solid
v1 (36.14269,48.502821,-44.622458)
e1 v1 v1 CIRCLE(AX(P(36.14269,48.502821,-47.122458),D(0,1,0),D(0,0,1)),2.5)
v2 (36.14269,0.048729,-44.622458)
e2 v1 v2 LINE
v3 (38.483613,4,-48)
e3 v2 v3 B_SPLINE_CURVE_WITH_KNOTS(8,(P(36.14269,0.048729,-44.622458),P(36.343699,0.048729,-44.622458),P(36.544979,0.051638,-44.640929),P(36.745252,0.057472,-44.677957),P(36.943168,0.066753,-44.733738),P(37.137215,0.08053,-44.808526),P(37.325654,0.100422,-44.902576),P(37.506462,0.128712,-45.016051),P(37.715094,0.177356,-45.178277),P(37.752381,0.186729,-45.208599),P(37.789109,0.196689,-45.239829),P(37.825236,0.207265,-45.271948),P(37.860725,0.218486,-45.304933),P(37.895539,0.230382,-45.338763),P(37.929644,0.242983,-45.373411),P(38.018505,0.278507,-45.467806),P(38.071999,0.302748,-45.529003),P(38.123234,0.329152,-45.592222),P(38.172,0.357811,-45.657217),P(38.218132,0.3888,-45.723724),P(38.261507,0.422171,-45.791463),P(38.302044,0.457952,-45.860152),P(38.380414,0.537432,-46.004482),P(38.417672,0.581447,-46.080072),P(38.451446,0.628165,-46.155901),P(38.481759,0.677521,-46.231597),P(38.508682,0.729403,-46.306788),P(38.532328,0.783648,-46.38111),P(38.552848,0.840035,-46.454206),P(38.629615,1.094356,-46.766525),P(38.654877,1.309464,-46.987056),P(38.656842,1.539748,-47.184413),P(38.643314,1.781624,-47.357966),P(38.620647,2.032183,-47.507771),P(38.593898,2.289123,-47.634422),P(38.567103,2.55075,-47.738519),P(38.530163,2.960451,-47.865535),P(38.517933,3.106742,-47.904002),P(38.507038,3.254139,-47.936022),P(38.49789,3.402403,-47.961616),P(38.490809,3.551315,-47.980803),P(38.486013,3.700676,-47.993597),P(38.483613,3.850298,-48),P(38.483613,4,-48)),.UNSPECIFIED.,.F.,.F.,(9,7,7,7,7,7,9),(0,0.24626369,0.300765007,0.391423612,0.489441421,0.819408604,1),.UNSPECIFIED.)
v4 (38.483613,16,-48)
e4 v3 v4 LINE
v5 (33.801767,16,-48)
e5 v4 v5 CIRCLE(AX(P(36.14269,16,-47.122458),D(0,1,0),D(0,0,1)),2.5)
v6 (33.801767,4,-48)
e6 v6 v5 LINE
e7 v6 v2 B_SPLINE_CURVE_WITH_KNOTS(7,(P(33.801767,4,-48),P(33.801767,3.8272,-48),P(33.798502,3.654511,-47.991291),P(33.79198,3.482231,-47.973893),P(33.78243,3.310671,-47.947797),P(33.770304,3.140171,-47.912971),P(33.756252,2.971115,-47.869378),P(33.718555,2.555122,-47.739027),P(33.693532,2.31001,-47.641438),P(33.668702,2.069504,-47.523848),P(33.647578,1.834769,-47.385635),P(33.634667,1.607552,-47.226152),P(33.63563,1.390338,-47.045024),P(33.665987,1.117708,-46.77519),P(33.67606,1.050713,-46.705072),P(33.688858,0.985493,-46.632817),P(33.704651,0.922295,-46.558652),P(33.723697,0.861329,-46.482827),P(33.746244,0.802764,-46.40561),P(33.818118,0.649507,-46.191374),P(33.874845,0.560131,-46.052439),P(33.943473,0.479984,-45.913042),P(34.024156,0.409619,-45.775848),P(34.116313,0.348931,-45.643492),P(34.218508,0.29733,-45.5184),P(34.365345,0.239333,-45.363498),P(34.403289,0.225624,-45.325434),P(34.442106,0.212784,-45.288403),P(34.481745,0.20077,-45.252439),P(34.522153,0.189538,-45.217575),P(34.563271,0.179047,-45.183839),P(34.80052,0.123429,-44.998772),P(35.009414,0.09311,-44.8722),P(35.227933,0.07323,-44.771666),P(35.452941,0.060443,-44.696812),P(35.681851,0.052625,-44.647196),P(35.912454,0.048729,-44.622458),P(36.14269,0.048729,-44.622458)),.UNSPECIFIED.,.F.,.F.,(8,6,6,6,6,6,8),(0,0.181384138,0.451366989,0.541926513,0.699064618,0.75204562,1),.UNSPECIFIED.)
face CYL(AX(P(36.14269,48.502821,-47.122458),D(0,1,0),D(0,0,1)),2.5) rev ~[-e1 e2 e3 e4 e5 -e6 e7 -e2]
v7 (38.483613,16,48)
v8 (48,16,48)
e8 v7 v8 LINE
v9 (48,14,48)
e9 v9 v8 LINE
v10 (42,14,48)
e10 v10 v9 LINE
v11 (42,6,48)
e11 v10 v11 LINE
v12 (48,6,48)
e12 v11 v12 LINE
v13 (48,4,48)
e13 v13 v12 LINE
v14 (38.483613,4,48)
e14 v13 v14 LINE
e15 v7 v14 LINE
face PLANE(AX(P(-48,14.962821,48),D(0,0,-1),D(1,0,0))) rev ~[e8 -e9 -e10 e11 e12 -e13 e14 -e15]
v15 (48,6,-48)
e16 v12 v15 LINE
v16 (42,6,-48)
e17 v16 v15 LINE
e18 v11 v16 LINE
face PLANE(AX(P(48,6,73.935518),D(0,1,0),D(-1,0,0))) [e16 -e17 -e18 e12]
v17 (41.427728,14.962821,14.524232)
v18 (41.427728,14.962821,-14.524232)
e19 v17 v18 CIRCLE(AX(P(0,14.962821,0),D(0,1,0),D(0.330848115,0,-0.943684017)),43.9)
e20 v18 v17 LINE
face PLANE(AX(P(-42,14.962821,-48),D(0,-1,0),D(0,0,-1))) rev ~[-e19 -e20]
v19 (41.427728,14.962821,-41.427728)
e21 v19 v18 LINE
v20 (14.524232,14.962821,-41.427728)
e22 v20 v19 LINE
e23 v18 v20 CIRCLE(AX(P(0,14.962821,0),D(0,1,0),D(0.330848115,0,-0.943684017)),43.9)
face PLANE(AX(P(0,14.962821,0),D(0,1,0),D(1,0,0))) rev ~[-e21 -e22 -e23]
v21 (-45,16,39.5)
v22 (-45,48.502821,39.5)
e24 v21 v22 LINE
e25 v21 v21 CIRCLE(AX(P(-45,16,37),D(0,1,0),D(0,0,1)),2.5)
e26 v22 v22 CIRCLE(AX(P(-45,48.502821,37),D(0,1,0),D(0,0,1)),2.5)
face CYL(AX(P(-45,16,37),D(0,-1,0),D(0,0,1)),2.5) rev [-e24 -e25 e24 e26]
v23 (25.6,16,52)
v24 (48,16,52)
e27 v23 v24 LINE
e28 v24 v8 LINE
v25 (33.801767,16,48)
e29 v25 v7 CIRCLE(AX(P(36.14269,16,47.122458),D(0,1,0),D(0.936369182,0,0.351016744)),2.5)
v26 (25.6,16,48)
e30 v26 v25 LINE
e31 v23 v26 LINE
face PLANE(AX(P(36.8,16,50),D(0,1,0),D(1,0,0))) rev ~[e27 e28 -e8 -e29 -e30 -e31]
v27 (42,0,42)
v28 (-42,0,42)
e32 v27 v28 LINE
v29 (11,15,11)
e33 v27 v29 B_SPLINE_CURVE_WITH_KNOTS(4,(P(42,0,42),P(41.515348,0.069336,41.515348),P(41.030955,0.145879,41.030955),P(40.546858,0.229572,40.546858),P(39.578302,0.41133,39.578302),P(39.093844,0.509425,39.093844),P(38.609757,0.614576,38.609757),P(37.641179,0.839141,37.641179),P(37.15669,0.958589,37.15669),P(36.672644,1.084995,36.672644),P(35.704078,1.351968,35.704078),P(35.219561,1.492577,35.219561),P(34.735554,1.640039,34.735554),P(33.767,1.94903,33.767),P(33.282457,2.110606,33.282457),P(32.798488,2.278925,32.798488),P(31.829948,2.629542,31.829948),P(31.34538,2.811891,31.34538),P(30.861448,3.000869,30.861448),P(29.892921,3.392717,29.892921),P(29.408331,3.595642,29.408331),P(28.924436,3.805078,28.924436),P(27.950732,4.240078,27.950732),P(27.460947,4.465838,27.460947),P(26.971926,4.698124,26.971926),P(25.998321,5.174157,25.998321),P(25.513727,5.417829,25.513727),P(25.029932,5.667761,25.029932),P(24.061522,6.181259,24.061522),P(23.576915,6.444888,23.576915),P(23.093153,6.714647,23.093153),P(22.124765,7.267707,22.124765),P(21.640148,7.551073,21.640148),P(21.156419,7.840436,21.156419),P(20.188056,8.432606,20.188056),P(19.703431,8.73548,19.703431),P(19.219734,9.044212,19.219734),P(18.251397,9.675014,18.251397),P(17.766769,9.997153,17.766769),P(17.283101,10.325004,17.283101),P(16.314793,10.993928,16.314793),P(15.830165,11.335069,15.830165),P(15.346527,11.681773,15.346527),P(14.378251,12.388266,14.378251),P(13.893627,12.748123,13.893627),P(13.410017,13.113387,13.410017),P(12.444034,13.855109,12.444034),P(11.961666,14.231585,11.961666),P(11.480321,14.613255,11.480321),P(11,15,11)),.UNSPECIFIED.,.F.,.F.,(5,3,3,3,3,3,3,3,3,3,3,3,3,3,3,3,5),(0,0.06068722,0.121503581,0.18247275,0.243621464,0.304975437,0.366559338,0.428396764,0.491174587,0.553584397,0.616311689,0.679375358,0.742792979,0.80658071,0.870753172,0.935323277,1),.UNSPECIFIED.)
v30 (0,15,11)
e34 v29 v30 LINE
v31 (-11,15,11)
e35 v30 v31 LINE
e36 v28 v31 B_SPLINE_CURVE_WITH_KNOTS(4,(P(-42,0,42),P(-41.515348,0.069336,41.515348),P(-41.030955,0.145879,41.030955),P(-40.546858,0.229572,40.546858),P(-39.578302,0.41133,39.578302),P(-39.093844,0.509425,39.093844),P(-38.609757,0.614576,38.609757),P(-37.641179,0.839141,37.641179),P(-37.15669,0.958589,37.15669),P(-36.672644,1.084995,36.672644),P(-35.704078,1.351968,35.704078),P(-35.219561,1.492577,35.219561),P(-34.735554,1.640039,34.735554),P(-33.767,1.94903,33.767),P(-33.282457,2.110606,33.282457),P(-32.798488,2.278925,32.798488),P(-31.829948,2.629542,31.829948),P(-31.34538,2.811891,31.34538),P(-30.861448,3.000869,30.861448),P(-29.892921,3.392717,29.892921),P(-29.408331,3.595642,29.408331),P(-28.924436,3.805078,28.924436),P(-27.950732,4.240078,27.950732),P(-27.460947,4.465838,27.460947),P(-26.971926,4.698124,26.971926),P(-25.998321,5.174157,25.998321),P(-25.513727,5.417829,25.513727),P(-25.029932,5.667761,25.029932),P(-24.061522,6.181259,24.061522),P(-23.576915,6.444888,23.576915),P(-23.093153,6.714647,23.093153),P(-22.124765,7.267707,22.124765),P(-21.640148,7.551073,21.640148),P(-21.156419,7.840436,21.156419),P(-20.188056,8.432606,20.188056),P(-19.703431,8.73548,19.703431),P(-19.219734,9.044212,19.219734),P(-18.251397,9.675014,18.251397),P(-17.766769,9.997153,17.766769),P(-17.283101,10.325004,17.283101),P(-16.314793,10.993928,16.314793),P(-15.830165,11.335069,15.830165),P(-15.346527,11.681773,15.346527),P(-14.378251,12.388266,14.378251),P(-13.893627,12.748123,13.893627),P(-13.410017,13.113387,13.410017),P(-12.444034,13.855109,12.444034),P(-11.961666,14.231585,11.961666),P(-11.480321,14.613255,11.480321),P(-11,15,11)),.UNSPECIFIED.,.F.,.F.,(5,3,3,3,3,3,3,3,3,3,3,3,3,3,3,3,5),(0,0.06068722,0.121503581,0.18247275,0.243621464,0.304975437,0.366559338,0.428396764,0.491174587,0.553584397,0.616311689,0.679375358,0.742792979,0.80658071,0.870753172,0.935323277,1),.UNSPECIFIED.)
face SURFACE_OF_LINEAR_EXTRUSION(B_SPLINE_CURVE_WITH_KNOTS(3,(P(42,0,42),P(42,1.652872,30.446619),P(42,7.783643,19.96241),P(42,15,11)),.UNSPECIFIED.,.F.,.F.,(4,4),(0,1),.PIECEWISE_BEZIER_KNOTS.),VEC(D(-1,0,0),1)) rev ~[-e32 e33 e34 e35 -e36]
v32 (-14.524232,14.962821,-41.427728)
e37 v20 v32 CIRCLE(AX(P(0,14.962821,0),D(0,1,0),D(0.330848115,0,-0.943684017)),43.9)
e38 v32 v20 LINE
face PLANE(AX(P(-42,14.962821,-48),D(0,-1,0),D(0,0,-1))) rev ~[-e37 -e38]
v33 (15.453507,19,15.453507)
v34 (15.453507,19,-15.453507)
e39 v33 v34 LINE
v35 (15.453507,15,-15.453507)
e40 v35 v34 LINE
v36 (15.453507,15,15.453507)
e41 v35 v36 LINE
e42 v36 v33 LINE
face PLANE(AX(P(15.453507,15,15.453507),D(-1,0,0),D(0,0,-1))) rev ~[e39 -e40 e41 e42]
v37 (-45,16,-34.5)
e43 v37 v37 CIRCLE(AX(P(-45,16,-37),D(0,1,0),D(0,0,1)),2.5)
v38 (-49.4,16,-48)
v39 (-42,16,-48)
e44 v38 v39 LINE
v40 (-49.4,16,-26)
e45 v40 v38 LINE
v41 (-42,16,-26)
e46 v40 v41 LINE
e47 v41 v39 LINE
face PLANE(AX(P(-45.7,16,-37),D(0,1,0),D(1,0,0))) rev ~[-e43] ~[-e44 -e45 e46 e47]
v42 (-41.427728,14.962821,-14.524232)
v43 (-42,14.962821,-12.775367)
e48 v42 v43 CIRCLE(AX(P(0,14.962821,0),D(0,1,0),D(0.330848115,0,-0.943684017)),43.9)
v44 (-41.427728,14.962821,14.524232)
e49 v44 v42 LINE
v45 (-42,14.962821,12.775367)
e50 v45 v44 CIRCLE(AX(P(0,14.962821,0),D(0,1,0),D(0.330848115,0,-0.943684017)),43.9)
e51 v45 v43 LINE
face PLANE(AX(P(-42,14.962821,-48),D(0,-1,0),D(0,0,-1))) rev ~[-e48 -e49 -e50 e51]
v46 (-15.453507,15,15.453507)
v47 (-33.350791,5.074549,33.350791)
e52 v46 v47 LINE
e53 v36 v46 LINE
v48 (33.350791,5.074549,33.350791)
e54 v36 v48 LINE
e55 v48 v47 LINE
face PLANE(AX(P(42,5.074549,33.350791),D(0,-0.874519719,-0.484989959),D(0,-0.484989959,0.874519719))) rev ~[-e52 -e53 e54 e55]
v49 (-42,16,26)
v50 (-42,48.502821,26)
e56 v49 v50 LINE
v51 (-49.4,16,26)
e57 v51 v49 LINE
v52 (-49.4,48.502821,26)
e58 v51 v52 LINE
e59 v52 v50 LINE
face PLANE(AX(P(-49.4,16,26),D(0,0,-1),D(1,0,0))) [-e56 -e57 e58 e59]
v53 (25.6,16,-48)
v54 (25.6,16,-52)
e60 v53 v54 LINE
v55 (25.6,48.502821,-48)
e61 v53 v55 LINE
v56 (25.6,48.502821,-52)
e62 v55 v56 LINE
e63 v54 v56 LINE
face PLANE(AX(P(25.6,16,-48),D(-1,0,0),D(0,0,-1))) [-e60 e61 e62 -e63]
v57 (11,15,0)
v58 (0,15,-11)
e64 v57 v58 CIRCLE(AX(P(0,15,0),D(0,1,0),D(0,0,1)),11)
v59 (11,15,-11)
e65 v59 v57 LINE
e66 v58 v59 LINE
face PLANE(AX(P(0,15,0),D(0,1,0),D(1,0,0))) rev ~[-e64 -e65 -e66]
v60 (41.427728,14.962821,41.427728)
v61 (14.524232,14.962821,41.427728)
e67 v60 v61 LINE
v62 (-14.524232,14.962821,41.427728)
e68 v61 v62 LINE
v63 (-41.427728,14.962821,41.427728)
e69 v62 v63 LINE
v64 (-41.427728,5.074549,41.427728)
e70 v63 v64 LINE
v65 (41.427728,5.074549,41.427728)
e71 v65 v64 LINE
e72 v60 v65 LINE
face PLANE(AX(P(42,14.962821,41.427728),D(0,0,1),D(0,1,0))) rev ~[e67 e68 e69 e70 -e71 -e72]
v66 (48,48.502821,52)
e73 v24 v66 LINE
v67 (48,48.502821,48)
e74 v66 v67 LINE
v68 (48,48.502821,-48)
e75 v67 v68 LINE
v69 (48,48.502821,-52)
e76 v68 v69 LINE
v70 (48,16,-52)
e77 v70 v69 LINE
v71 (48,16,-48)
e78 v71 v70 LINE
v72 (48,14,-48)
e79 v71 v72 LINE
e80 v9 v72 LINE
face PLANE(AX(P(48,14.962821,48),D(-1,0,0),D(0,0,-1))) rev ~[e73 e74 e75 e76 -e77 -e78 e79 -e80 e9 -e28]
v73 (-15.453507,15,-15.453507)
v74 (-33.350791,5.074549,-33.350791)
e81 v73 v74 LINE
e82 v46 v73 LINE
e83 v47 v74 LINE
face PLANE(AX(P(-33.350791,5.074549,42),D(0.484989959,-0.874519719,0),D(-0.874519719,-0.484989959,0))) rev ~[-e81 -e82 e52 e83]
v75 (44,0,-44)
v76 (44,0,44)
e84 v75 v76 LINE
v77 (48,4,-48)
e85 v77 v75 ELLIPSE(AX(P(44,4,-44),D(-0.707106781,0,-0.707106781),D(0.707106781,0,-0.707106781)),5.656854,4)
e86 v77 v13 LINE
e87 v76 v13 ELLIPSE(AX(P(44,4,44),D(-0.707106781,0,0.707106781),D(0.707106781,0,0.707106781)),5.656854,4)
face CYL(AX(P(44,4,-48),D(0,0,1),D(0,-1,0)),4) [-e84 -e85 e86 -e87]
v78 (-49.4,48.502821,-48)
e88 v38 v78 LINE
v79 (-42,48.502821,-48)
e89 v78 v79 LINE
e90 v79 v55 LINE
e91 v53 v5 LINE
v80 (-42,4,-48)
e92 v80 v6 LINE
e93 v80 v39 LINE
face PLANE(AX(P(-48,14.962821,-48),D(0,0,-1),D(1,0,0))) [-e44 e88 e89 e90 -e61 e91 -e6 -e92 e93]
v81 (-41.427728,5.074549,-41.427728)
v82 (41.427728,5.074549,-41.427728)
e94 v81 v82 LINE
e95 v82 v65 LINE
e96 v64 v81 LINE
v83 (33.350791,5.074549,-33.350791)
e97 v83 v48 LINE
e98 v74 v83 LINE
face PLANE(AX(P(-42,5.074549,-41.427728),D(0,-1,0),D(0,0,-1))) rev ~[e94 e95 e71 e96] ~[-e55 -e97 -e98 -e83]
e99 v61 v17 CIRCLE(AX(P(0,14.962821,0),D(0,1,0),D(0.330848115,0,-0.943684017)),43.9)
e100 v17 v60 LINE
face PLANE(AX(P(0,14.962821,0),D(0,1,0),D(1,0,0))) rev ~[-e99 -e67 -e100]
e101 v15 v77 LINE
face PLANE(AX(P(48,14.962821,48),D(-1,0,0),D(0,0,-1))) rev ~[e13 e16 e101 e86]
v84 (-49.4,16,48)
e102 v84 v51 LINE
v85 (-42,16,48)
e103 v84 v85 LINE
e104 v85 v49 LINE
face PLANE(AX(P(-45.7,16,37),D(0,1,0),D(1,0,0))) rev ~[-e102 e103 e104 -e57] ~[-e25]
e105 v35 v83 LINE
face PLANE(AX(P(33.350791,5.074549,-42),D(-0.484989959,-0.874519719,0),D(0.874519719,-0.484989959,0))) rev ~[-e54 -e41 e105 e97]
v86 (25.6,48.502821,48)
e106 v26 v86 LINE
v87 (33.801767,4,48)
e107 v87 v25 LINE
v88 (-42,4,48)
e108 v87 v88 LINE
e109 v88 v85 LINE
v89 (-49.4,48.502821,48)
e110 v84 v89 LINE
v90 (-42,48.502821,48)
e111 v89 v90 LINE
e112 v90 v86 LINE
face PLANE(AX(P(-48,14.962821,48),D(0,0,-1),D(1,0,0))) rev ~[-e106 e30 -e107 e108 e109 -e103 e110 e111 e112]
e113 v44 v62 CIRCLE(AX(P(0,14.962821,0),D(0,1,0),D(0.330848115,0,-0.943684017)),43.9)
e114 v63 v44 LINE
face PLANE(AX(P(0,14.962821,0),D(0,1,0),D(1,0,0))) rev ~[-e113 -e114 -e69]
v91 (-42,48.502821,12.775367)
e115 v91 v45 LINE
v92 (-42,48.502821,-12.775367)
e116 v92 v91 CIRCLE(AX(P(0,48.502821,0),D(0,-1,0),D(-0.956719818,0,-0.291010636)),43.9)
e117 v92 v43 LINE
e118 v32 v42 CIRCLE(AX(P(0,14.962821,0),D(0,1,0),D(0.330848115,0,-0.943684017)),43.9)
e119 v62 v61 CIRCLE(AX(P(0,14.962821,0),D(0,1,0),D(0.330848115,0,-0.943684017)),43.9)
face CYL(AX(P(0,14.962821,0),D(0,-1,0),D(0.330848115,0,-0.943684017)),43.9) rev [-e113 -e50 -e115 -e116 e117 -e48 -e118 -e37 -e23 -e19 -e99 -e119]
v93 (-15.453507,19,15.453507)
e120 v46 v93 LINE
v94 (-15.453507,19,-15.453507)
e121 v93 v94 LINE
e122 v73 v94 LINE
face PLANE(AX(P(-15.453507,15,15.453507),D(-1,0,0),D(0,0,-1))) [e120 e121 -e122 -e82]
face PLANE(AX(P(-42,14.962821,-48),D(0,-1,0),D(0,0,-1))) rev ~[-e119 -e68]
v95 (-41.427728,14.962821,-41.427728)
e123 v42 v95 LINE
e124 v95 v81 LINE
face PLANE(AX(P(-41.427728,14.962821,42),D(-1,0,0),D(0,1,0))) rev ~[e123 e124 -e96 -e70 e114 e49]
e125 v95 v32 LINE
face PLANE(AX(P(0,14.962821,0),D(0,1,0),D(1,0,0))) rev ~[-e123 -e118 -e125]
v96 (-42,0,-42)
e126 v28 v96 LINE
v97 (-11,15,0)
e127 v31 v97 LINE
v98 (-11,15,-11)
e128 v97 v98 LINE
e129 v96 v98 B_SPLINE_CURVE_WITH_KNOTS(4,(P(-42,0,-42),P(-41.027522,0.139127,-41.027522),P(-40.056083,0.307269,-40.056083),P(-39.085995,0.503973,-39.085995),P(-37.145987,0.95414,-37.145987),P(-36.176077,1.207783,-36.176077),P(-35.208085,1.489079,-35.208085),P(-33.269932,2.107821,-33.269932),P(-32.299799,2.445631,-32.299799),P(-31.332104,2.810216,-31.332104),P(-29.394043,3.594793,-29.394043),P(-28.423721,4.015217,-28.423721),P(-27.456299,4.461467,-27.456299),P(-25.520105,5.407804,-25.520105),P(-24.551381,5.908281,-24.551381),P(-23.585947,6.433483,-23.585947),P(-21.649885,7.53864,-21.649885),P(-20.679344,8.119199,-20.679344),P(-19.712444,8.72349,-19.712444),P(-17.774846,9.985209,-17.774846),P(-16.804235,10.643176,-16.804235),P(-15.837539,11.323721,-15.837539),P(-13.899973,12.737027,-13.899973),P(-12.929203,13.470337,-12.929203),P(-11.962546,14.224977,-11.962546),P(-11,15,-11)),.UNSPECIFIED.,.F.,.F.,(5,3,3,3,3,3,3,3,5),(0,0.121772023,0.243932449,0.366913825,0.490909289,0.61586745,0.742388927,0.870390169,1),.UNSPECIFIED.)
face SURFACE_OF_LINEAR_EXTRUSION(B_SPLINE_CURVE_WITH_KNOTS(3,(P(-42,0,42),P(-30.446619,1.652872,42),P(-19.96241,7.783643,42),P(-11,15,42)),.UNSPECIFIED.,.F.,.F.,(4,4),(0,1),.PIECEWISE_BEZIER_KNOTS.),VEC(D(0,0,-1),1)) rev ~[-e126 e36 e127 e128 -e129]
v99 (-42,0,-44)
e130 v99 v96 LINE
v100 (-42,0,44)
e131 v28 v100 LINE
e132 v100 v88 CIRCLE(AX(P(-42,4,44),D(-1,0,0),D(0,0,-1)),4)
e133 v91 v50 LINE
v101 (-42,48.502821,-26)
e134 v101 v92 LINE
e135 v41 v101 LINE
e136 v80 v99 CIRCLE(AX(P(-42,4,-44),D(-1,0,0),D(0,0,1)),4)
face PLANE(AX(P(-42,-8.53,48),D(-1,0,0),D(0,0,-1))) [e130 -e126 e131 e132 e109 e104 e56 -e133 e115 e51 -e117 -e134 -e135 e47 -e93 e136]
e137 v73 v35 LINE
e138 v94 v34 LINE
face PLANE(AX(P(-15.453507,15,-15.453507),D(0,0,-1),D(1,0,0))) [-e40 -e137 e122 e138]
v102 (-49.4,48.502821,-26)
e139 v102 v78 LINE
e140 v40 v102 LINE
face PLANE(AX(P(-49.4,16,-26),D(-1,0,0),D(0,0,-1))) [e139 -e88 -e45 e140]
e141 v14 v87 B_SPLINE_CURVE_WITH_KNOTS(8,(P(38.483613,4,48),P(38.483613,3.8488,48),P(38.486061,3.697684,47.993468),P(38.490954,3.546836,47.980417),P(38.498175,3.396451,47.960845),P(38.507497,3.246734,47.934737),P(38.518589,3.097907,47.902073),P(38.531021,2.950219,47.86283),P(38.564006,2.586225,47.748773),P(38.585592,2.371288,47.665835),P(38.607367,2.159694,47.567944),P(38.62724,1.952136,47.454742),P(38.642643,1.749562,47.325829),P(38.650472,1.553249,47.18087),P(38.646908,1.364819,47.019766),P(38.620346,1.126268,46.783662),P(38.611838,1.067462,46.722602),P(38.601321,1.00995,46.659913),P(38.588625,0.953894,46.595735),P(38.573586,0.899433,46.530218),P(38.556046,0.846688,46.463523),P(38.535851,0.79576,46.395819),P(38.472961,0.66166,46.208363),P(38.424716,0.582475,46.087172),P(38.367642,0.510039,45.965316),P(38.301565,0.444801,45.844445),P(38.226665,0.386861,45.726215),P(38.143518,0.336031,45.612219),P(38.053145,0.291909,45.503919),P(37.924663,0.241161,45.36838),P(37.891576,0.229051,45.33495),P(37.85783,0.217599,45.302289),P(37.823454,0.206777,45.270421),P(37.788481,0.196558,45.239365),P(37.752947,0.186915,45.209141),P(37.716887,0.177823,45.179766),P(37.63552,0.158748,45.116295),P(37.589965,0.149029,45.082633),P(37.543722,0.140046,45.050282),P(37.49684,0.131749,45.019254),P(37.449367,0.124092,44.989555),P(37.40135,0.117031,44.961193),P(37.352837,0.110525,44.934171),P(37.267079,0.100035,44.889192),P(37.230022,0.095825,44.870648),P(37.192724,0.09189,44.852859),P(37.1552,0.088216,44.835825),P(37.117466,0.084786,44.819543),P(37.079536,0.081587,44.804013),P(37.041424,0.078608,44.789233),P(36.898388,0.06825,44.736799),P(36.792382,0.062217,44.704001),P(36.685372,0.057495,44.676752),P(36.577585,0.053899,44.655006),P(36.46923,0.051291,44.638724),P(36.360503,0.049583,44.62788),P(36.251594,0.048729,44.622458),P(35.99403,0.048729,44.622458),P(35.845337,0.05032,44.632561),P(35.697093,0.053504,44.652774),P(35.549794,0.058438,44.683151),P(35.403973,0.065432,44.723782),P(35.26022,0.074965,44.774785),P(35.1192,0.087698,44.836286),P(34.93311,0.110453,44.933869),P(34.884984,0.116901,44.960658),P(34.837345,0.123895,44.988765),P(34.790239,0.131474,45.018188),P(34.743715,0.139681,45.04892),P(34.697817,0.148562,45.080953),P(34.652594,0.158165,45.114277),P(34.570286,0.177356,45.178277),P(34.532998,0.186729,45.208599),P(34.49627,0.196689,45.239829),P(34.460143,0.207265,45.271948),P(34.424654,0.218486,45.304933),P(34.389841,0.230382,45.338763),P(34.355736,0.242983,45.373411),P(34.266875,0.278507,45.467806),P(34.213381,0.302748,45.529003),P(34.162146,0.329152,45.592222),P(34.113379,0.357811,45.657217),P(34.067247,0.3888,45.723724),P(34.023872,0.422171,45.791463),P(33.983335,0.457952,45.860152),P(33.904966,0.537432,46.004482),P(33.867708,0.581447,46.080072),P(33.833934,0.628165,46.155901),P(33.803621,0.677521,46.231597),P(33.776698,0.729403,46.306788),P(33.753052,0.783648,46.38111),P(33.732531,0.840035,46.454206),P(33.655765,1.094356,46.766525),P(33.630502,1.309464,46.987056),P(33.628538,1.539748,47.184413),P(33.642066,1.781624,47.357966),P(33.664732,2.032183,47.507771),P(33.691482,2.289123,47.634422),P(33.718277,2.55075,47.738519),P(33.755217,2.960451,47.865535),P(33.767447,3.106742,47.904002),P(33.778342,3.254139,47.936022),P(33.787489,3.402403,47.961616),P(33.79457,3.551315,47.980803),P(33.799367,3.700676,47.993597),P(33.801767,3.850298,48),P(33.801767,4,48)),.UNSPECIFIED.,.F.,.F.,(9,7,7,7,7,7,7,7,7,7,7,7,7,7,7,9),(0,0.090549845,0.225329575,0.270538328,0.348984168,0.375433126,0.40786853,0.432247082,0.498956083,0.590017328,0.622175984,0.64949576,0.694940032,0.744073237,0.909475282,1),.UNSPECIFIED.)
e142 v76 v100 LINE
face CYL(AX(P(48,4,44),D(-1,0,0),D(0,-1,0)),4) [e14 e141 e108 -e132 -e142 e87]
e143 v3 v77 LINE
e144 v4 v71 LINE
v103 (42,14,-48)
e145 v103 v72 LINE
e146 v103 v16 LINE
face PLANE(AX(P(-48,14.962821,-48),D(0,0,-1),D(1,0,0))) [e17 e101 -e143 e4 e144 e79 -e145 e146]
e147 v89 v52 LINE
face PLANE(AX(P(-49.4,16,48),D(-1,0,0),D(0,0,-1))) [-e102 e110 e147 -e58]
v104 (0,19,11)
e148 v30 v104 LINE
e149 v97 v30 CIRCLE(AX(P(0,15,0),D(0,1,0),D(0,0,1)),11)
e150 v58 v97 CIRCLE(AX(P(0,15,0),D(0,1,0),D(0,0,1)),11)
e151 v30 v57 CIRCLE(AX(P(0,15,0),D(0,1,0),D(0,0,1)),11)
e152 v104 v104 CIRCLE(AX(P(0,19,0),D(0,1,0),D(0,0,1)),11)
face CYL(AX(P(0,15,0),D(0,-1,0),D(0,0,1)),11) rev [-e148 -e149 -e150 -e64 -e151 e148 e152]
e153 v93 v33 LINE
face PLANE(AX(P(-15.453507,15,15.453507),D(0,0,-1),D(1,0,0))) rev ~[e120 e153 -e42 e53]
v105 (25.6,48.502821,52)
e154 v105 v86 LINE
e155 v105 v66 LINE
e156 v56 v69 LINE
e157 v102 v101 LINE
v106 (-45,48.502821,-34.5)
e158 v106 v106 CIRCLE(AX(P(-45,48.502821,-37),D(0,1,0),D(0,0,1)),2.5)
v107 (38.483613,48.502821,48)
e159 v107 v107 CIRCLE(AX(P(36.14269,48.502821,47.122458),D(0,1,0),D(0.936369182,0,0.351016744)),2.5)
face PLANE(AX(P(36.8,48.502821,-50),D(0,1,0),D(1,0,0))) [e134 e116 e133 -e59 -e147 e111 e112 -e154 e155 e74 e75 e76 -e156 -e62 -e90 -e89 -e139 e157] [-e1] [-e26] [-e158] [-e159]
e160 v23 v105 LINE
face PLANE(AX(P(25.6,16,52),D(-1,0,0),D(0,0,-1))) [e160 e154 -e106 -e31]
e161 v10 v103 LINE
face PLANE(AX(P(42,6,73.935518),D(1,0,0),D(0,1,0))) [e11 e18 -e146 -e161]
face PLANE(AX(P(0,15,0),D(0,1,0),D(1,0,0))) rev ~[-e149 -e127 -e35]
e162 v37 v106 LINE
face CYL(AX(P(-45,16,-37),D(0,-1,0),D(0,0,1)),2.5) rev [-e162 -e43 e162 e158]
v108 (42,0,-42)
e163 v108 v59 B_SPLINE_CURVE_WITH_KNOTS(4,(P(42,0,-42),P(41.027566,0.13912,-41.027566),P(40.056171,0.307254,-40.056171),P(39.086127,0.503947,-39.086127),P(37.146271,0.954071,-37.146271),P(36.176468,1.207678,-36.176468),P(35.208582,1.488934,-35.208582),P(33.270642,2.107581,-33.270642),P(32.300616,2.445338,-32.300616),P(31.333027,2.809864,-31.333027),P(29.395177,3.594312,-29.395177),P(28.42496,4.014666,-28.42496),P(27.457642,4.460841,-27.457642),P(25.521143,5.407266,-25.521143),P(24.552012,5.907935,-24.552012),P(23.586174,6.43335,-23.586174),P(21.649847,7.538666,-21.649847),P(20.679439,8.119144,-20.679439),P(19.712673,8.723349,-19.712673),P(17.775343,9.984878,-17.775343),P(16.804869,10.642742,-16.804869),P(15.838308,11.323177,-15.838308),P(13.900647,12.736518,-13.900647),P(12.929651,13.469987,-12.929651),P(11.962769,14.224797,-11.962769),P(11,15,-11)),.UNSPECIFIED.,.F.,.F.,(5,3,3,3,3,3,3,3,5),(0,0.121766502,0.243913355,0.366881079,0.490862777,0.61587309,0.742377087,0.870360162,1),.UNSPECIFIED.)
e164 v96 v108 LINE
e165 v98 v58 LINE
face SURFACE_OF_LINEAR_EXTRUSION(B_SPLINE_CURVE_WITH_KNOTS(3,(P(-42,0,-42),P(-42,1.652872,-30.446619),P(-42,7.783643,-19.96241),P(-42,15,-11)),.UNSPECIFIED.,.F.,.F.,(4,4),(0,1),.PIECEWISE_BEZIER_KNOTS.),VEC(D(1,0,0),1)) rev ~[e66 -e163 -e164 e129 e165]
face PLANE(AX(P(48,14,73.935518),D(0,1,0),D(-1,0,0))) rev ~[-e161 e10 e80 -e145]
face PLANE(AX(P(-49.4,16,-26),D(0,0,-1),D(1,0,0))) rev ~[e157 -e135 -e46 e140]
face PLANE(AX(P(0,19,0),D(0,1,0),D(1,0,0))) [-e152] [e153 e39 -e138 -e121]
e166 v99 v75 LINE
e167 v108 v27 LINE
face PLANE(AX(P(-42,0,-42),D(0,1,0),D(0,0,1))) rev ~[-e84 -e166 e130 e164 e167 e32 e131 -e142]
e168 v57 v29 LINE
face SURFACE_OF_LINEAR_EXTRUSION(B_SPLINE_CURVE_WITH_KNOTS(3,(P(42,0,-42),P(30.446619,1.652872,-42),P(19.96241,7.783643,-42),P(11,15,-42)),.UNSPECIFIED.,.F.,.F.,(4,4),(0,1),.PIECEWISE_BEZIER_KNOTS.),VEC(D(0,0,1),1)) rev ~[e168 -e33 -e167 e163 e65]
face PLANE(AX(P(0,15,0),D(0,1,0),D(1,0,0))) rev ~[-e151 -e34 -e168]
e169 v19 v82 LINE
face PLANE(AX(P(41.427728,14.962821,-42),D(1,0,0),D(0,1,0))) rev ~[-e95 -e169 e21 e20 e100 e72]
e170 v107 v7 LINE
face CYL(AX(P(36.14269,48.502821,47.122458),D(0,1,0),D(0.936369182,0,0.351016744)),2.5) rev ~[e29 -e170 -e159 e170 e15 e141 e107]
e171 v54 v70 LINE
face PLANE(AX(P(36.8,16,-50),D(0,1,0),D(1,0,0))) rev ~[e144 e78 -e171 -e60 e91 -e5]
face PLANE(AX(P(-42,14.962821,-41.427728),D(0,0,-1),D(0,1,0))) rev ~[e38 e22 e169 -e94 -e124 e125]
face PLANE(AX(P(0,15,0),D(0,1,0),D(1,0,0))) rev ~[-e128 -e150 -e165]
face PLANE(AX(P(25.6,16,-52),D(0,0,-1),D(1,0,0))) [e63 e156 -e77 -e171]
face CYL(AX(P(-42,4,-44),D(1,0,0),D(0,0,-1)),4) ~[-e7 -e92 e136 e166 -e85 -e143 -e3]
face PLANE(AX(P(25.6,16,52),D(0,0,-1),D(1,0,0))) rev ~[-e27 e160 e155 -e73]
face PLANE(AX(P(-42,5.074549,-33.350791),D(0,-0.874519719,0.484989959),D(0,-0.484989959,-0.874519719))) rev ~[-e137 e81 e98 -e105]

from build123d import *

# Parameters (mm, degrees)
SKETCH_8_W               = 96
SKETCH_8_H               = 96
SKETCH_8_R               = 43.9
EXTRUDE_1_DEPTH          = 33.54
CUT_EXTRUDE_3_DEPTH      = 84.429752707
CUT_EXTRUDE_3_DEPTH_BACK = 8.53
SKETCH_14_W              = 6
SKETCH_14_H              = 96
EXTRUDE_3_DEPTH          = 18.502821
EXTRUDE_3_DEPTH_BACK     = 14
SKETCH_16_W              = 22.4
SKETCH_16_H              = 4
SKETCH_16_W_2            = 7.4
SKETCH_16_H_2            = 22
SKETCH_16_R              = 2.5
FILLET_5_R               = 4
SKETCH_21_W              = 30.907014898
SKETCH_21_H              = 30.907014898
SKETCH_21_R              = 11
EXTRUDE_4_DEPTH          = 4
SKETCH_22_R              = 2.5
CUT_EXTRUDE_4_DEPTH      = 87.584546233
CUT_EXTRUDE_5_DEPTH      = 125.935517954
CUT_EXTRUDE_5_DEPTH_BACK = 125.935517954
SKETCH_23_W              = 6
SKETCH_23_H              = 8


with BuildPart() as part:
    # 掃出1: sweep along a path in 草圖6
    with BuildLine(Plane(origin=(0, 0, 0), x_dir=(1, 0, 0), z_dir=(0, 1, 0))) as sweep_1_path:
        Line((-42, 42), (42, 42))
        Line((42, 42), (42, -42))
        Line((42, -42), (-42, -42))
        Line((-42, -42), (-42, 42))
    # 草圖7 → 掃出1 (sweep)
    with BuildSketch(Plane.XY):
        with BuildLine():
            Line((-48, 0), (-48, 14.962820915))
            Line((-48, 14.962820915), (-41.427728365, 14.962820915))
            Line((-41.427728365, 14.962820915), (-41.427728365, 5.074548504))
            Line((-41.427728365, 5.074548504), (-33.350791498, 5.074548504))
            Line((-33.350791498, 5.074548504), (-15.453507449, 15))
            Line((-15.453507449, 15), (-11, 15))
            add(Edge.make_bspline(
                [(-11, 15), (-19.96241049, 7.783643124), (-30.446618789, 1.65287244), (-42, 0)],
                knots=[0, 0, 0, 0, 1, 1, 1, 1], degree=3))
            Line((-42, 0), (-48, 0))
        make_face()
    sweep(path=sweep_1_path.line, transition=Transition.RIGHT)

    # 草圖8 → 填料-伸長1 (add)
    with BuildSketch(Plane(origin=(0, 14.962820915, 0), x_dir=(1, 0, 0), z_dir=(0, 1, 0))):
        Rectangle(SKETCH_8_W, SKETCH_8_H)
        with Locations(Location((0, 0, 0), (0, 0, 70.679739301))):
            Circle(SKETCH_8_R, mode=Mode.SUBTRACT)
    extrude(amount=EXTRUDE_1_DEPTH)

    # 草圖14 → 除料-伸長3 (cut, two sides: drawn at the far end of the back side and taken through both)
    with BuildSketch(Plane(origin=(0, 0, 0), x_dir=(1, 0, 0), z_dir=(0, 1, 0)).offset(-CUT_EXTRUDE_3_DEPTH_BACK)):
        with Locations((-45, 0)):
            Rectangle(SKETCH_14_W, SKETCH_14_H)
    extrude(amount=CUT_EXTRUDE_3_DEPTH + CUT_EXTRUDE_3_DEPTH_BACK, mode=Mode.SUBTRACT)

    # 草圖16 → 填料-伸長3 (add, two sides: drawn at the far end of the back side and taken through both)
    # profile 1 of 4: a face of its own
    with BuildSketch(Plane(origin=(0, 30, 0), x_dir=(1, 0, 0), z_dir=(0, 1, 0)).offset(-EXTRUDE_3_DEPTH_BACK)):
        with Locations((36.8, 50)):
            Rectangle(SKETCH_16_W, SKETCH_16_H)
    # profile 2 of 4: a face of its own
    with BuildSketch(Plane(origin=(0, 30, 0), x_dir=(1, 0, 0), z_dir=(0, 1, 0)).offset(-EXTRUDE_3_DEPTH_BACK)):
        with Locations((36.8, -50)):
            Rectangle(SKETCH_16_W, SKETCH_16_H)
    # profile 3 of 4: a face of its own
    with BuildSketch(Plane(origin=(0, 30, 0), x_dir=(1, 0, 0), z_dir=(0, 1, 0)).offset(-EXTRUDE_3_DEPTH_BACK)):
        with Locations((-45.7, -37)):
            Rectangle(SKETCH_16_W_2, SKETCH_16_H_2)
        with Locations(Location((-45, -37, 0), (0, 0, 270))):
            Circle(SKETCH_16_R, mode=Mode.SUBTRACT)
    # profile 4 of 4: a face of its own
    with BuildSketch(Plane(origin=(0, 30, 0), x_dir=(1, 0, 0), z_dir=(0, 1, 0)).offset(-EXTRUDE_3_DEPTH_BACK)):
        with Locations((-45.7, 37)):
            Rectangle(SKETCH_16_W_2, SKETCH_16_H_2)
        with Locations(Location((-45, 37, 0), (0, 0, 270))):
            Circle(SKETCH_16_R, mode=Mode.SUBTRACT)
    extrude(amount=EXTRUDE_3_DEPTH + EXTRUDE_3_DEPTH_BACK)

    # 圓角5
    fillet_5_edges = [part.edges().sort_by_distance(p)[0] for p in [
        (3, 0, -48),
        (48, 0, 0),
        (3, 0, 48),
    ]]
    fillet(fillet_5_edges, radius=FILLET_5_R)

    # 草圖21 → 填料-伸長4 (add)
    with BuildSketch(Plane(origin=(0, 15, 0), x_dir=(1, 0, 0), z_dir=(0, 1, 0))):
        Rectangle(SKETCH_21_W, SKETCH_21_H)
        with Locations(Location((0, 0, 0), (0, 0, 270))):
            Circle(SKETCH_21_R, mode=Mode.SUBTRACT)
    extrude(amount=EXTRUDE_4_DEPTH)

    # 草圖22 → 除料-伸長4 (cut, through all)
    with BuildSketch(Plane(origin=(0, 48.502820915, 0), x_dir=(1, 0, 0), z_dir=(0, 1, 0))):
        with Locations(Location((36.142689786, 47.122458141, 0), (0, 0, 270))):
            Circle(SKETCH_22_R)
        with Locations(Location((36.142689786, -47.122458141, 0), (0, 0, 339.450483695))):
            Circle(SKETCH_22_R)
    extrude(amount=-CUT_EXTRUDE_4_DEPTH, mode=Mode.SUBTRACT)

    # 草圖23 → 除料-伸長5 (cut, two sides: drawn at the far end of the back side and taken through both)
    with BuildSketch(Plane(origin=(0, 0, -52), x_dir=(-1, 0, 0), z_dir=(0, 0, -1)).offset(-CUT_EXTRUDE_5_DEPTH_BACK)):
        with Locations((-45, 10)):
            Rectangle(SKETCH_23_W, SKETCH_23_H)
    extrude(amount=CUT_EXTRUDE_5_DEPTH + CUT_EXTRUDE_5_DEPTH_BACK, mode=Mode.SUBTRACT)


solid = part.part
